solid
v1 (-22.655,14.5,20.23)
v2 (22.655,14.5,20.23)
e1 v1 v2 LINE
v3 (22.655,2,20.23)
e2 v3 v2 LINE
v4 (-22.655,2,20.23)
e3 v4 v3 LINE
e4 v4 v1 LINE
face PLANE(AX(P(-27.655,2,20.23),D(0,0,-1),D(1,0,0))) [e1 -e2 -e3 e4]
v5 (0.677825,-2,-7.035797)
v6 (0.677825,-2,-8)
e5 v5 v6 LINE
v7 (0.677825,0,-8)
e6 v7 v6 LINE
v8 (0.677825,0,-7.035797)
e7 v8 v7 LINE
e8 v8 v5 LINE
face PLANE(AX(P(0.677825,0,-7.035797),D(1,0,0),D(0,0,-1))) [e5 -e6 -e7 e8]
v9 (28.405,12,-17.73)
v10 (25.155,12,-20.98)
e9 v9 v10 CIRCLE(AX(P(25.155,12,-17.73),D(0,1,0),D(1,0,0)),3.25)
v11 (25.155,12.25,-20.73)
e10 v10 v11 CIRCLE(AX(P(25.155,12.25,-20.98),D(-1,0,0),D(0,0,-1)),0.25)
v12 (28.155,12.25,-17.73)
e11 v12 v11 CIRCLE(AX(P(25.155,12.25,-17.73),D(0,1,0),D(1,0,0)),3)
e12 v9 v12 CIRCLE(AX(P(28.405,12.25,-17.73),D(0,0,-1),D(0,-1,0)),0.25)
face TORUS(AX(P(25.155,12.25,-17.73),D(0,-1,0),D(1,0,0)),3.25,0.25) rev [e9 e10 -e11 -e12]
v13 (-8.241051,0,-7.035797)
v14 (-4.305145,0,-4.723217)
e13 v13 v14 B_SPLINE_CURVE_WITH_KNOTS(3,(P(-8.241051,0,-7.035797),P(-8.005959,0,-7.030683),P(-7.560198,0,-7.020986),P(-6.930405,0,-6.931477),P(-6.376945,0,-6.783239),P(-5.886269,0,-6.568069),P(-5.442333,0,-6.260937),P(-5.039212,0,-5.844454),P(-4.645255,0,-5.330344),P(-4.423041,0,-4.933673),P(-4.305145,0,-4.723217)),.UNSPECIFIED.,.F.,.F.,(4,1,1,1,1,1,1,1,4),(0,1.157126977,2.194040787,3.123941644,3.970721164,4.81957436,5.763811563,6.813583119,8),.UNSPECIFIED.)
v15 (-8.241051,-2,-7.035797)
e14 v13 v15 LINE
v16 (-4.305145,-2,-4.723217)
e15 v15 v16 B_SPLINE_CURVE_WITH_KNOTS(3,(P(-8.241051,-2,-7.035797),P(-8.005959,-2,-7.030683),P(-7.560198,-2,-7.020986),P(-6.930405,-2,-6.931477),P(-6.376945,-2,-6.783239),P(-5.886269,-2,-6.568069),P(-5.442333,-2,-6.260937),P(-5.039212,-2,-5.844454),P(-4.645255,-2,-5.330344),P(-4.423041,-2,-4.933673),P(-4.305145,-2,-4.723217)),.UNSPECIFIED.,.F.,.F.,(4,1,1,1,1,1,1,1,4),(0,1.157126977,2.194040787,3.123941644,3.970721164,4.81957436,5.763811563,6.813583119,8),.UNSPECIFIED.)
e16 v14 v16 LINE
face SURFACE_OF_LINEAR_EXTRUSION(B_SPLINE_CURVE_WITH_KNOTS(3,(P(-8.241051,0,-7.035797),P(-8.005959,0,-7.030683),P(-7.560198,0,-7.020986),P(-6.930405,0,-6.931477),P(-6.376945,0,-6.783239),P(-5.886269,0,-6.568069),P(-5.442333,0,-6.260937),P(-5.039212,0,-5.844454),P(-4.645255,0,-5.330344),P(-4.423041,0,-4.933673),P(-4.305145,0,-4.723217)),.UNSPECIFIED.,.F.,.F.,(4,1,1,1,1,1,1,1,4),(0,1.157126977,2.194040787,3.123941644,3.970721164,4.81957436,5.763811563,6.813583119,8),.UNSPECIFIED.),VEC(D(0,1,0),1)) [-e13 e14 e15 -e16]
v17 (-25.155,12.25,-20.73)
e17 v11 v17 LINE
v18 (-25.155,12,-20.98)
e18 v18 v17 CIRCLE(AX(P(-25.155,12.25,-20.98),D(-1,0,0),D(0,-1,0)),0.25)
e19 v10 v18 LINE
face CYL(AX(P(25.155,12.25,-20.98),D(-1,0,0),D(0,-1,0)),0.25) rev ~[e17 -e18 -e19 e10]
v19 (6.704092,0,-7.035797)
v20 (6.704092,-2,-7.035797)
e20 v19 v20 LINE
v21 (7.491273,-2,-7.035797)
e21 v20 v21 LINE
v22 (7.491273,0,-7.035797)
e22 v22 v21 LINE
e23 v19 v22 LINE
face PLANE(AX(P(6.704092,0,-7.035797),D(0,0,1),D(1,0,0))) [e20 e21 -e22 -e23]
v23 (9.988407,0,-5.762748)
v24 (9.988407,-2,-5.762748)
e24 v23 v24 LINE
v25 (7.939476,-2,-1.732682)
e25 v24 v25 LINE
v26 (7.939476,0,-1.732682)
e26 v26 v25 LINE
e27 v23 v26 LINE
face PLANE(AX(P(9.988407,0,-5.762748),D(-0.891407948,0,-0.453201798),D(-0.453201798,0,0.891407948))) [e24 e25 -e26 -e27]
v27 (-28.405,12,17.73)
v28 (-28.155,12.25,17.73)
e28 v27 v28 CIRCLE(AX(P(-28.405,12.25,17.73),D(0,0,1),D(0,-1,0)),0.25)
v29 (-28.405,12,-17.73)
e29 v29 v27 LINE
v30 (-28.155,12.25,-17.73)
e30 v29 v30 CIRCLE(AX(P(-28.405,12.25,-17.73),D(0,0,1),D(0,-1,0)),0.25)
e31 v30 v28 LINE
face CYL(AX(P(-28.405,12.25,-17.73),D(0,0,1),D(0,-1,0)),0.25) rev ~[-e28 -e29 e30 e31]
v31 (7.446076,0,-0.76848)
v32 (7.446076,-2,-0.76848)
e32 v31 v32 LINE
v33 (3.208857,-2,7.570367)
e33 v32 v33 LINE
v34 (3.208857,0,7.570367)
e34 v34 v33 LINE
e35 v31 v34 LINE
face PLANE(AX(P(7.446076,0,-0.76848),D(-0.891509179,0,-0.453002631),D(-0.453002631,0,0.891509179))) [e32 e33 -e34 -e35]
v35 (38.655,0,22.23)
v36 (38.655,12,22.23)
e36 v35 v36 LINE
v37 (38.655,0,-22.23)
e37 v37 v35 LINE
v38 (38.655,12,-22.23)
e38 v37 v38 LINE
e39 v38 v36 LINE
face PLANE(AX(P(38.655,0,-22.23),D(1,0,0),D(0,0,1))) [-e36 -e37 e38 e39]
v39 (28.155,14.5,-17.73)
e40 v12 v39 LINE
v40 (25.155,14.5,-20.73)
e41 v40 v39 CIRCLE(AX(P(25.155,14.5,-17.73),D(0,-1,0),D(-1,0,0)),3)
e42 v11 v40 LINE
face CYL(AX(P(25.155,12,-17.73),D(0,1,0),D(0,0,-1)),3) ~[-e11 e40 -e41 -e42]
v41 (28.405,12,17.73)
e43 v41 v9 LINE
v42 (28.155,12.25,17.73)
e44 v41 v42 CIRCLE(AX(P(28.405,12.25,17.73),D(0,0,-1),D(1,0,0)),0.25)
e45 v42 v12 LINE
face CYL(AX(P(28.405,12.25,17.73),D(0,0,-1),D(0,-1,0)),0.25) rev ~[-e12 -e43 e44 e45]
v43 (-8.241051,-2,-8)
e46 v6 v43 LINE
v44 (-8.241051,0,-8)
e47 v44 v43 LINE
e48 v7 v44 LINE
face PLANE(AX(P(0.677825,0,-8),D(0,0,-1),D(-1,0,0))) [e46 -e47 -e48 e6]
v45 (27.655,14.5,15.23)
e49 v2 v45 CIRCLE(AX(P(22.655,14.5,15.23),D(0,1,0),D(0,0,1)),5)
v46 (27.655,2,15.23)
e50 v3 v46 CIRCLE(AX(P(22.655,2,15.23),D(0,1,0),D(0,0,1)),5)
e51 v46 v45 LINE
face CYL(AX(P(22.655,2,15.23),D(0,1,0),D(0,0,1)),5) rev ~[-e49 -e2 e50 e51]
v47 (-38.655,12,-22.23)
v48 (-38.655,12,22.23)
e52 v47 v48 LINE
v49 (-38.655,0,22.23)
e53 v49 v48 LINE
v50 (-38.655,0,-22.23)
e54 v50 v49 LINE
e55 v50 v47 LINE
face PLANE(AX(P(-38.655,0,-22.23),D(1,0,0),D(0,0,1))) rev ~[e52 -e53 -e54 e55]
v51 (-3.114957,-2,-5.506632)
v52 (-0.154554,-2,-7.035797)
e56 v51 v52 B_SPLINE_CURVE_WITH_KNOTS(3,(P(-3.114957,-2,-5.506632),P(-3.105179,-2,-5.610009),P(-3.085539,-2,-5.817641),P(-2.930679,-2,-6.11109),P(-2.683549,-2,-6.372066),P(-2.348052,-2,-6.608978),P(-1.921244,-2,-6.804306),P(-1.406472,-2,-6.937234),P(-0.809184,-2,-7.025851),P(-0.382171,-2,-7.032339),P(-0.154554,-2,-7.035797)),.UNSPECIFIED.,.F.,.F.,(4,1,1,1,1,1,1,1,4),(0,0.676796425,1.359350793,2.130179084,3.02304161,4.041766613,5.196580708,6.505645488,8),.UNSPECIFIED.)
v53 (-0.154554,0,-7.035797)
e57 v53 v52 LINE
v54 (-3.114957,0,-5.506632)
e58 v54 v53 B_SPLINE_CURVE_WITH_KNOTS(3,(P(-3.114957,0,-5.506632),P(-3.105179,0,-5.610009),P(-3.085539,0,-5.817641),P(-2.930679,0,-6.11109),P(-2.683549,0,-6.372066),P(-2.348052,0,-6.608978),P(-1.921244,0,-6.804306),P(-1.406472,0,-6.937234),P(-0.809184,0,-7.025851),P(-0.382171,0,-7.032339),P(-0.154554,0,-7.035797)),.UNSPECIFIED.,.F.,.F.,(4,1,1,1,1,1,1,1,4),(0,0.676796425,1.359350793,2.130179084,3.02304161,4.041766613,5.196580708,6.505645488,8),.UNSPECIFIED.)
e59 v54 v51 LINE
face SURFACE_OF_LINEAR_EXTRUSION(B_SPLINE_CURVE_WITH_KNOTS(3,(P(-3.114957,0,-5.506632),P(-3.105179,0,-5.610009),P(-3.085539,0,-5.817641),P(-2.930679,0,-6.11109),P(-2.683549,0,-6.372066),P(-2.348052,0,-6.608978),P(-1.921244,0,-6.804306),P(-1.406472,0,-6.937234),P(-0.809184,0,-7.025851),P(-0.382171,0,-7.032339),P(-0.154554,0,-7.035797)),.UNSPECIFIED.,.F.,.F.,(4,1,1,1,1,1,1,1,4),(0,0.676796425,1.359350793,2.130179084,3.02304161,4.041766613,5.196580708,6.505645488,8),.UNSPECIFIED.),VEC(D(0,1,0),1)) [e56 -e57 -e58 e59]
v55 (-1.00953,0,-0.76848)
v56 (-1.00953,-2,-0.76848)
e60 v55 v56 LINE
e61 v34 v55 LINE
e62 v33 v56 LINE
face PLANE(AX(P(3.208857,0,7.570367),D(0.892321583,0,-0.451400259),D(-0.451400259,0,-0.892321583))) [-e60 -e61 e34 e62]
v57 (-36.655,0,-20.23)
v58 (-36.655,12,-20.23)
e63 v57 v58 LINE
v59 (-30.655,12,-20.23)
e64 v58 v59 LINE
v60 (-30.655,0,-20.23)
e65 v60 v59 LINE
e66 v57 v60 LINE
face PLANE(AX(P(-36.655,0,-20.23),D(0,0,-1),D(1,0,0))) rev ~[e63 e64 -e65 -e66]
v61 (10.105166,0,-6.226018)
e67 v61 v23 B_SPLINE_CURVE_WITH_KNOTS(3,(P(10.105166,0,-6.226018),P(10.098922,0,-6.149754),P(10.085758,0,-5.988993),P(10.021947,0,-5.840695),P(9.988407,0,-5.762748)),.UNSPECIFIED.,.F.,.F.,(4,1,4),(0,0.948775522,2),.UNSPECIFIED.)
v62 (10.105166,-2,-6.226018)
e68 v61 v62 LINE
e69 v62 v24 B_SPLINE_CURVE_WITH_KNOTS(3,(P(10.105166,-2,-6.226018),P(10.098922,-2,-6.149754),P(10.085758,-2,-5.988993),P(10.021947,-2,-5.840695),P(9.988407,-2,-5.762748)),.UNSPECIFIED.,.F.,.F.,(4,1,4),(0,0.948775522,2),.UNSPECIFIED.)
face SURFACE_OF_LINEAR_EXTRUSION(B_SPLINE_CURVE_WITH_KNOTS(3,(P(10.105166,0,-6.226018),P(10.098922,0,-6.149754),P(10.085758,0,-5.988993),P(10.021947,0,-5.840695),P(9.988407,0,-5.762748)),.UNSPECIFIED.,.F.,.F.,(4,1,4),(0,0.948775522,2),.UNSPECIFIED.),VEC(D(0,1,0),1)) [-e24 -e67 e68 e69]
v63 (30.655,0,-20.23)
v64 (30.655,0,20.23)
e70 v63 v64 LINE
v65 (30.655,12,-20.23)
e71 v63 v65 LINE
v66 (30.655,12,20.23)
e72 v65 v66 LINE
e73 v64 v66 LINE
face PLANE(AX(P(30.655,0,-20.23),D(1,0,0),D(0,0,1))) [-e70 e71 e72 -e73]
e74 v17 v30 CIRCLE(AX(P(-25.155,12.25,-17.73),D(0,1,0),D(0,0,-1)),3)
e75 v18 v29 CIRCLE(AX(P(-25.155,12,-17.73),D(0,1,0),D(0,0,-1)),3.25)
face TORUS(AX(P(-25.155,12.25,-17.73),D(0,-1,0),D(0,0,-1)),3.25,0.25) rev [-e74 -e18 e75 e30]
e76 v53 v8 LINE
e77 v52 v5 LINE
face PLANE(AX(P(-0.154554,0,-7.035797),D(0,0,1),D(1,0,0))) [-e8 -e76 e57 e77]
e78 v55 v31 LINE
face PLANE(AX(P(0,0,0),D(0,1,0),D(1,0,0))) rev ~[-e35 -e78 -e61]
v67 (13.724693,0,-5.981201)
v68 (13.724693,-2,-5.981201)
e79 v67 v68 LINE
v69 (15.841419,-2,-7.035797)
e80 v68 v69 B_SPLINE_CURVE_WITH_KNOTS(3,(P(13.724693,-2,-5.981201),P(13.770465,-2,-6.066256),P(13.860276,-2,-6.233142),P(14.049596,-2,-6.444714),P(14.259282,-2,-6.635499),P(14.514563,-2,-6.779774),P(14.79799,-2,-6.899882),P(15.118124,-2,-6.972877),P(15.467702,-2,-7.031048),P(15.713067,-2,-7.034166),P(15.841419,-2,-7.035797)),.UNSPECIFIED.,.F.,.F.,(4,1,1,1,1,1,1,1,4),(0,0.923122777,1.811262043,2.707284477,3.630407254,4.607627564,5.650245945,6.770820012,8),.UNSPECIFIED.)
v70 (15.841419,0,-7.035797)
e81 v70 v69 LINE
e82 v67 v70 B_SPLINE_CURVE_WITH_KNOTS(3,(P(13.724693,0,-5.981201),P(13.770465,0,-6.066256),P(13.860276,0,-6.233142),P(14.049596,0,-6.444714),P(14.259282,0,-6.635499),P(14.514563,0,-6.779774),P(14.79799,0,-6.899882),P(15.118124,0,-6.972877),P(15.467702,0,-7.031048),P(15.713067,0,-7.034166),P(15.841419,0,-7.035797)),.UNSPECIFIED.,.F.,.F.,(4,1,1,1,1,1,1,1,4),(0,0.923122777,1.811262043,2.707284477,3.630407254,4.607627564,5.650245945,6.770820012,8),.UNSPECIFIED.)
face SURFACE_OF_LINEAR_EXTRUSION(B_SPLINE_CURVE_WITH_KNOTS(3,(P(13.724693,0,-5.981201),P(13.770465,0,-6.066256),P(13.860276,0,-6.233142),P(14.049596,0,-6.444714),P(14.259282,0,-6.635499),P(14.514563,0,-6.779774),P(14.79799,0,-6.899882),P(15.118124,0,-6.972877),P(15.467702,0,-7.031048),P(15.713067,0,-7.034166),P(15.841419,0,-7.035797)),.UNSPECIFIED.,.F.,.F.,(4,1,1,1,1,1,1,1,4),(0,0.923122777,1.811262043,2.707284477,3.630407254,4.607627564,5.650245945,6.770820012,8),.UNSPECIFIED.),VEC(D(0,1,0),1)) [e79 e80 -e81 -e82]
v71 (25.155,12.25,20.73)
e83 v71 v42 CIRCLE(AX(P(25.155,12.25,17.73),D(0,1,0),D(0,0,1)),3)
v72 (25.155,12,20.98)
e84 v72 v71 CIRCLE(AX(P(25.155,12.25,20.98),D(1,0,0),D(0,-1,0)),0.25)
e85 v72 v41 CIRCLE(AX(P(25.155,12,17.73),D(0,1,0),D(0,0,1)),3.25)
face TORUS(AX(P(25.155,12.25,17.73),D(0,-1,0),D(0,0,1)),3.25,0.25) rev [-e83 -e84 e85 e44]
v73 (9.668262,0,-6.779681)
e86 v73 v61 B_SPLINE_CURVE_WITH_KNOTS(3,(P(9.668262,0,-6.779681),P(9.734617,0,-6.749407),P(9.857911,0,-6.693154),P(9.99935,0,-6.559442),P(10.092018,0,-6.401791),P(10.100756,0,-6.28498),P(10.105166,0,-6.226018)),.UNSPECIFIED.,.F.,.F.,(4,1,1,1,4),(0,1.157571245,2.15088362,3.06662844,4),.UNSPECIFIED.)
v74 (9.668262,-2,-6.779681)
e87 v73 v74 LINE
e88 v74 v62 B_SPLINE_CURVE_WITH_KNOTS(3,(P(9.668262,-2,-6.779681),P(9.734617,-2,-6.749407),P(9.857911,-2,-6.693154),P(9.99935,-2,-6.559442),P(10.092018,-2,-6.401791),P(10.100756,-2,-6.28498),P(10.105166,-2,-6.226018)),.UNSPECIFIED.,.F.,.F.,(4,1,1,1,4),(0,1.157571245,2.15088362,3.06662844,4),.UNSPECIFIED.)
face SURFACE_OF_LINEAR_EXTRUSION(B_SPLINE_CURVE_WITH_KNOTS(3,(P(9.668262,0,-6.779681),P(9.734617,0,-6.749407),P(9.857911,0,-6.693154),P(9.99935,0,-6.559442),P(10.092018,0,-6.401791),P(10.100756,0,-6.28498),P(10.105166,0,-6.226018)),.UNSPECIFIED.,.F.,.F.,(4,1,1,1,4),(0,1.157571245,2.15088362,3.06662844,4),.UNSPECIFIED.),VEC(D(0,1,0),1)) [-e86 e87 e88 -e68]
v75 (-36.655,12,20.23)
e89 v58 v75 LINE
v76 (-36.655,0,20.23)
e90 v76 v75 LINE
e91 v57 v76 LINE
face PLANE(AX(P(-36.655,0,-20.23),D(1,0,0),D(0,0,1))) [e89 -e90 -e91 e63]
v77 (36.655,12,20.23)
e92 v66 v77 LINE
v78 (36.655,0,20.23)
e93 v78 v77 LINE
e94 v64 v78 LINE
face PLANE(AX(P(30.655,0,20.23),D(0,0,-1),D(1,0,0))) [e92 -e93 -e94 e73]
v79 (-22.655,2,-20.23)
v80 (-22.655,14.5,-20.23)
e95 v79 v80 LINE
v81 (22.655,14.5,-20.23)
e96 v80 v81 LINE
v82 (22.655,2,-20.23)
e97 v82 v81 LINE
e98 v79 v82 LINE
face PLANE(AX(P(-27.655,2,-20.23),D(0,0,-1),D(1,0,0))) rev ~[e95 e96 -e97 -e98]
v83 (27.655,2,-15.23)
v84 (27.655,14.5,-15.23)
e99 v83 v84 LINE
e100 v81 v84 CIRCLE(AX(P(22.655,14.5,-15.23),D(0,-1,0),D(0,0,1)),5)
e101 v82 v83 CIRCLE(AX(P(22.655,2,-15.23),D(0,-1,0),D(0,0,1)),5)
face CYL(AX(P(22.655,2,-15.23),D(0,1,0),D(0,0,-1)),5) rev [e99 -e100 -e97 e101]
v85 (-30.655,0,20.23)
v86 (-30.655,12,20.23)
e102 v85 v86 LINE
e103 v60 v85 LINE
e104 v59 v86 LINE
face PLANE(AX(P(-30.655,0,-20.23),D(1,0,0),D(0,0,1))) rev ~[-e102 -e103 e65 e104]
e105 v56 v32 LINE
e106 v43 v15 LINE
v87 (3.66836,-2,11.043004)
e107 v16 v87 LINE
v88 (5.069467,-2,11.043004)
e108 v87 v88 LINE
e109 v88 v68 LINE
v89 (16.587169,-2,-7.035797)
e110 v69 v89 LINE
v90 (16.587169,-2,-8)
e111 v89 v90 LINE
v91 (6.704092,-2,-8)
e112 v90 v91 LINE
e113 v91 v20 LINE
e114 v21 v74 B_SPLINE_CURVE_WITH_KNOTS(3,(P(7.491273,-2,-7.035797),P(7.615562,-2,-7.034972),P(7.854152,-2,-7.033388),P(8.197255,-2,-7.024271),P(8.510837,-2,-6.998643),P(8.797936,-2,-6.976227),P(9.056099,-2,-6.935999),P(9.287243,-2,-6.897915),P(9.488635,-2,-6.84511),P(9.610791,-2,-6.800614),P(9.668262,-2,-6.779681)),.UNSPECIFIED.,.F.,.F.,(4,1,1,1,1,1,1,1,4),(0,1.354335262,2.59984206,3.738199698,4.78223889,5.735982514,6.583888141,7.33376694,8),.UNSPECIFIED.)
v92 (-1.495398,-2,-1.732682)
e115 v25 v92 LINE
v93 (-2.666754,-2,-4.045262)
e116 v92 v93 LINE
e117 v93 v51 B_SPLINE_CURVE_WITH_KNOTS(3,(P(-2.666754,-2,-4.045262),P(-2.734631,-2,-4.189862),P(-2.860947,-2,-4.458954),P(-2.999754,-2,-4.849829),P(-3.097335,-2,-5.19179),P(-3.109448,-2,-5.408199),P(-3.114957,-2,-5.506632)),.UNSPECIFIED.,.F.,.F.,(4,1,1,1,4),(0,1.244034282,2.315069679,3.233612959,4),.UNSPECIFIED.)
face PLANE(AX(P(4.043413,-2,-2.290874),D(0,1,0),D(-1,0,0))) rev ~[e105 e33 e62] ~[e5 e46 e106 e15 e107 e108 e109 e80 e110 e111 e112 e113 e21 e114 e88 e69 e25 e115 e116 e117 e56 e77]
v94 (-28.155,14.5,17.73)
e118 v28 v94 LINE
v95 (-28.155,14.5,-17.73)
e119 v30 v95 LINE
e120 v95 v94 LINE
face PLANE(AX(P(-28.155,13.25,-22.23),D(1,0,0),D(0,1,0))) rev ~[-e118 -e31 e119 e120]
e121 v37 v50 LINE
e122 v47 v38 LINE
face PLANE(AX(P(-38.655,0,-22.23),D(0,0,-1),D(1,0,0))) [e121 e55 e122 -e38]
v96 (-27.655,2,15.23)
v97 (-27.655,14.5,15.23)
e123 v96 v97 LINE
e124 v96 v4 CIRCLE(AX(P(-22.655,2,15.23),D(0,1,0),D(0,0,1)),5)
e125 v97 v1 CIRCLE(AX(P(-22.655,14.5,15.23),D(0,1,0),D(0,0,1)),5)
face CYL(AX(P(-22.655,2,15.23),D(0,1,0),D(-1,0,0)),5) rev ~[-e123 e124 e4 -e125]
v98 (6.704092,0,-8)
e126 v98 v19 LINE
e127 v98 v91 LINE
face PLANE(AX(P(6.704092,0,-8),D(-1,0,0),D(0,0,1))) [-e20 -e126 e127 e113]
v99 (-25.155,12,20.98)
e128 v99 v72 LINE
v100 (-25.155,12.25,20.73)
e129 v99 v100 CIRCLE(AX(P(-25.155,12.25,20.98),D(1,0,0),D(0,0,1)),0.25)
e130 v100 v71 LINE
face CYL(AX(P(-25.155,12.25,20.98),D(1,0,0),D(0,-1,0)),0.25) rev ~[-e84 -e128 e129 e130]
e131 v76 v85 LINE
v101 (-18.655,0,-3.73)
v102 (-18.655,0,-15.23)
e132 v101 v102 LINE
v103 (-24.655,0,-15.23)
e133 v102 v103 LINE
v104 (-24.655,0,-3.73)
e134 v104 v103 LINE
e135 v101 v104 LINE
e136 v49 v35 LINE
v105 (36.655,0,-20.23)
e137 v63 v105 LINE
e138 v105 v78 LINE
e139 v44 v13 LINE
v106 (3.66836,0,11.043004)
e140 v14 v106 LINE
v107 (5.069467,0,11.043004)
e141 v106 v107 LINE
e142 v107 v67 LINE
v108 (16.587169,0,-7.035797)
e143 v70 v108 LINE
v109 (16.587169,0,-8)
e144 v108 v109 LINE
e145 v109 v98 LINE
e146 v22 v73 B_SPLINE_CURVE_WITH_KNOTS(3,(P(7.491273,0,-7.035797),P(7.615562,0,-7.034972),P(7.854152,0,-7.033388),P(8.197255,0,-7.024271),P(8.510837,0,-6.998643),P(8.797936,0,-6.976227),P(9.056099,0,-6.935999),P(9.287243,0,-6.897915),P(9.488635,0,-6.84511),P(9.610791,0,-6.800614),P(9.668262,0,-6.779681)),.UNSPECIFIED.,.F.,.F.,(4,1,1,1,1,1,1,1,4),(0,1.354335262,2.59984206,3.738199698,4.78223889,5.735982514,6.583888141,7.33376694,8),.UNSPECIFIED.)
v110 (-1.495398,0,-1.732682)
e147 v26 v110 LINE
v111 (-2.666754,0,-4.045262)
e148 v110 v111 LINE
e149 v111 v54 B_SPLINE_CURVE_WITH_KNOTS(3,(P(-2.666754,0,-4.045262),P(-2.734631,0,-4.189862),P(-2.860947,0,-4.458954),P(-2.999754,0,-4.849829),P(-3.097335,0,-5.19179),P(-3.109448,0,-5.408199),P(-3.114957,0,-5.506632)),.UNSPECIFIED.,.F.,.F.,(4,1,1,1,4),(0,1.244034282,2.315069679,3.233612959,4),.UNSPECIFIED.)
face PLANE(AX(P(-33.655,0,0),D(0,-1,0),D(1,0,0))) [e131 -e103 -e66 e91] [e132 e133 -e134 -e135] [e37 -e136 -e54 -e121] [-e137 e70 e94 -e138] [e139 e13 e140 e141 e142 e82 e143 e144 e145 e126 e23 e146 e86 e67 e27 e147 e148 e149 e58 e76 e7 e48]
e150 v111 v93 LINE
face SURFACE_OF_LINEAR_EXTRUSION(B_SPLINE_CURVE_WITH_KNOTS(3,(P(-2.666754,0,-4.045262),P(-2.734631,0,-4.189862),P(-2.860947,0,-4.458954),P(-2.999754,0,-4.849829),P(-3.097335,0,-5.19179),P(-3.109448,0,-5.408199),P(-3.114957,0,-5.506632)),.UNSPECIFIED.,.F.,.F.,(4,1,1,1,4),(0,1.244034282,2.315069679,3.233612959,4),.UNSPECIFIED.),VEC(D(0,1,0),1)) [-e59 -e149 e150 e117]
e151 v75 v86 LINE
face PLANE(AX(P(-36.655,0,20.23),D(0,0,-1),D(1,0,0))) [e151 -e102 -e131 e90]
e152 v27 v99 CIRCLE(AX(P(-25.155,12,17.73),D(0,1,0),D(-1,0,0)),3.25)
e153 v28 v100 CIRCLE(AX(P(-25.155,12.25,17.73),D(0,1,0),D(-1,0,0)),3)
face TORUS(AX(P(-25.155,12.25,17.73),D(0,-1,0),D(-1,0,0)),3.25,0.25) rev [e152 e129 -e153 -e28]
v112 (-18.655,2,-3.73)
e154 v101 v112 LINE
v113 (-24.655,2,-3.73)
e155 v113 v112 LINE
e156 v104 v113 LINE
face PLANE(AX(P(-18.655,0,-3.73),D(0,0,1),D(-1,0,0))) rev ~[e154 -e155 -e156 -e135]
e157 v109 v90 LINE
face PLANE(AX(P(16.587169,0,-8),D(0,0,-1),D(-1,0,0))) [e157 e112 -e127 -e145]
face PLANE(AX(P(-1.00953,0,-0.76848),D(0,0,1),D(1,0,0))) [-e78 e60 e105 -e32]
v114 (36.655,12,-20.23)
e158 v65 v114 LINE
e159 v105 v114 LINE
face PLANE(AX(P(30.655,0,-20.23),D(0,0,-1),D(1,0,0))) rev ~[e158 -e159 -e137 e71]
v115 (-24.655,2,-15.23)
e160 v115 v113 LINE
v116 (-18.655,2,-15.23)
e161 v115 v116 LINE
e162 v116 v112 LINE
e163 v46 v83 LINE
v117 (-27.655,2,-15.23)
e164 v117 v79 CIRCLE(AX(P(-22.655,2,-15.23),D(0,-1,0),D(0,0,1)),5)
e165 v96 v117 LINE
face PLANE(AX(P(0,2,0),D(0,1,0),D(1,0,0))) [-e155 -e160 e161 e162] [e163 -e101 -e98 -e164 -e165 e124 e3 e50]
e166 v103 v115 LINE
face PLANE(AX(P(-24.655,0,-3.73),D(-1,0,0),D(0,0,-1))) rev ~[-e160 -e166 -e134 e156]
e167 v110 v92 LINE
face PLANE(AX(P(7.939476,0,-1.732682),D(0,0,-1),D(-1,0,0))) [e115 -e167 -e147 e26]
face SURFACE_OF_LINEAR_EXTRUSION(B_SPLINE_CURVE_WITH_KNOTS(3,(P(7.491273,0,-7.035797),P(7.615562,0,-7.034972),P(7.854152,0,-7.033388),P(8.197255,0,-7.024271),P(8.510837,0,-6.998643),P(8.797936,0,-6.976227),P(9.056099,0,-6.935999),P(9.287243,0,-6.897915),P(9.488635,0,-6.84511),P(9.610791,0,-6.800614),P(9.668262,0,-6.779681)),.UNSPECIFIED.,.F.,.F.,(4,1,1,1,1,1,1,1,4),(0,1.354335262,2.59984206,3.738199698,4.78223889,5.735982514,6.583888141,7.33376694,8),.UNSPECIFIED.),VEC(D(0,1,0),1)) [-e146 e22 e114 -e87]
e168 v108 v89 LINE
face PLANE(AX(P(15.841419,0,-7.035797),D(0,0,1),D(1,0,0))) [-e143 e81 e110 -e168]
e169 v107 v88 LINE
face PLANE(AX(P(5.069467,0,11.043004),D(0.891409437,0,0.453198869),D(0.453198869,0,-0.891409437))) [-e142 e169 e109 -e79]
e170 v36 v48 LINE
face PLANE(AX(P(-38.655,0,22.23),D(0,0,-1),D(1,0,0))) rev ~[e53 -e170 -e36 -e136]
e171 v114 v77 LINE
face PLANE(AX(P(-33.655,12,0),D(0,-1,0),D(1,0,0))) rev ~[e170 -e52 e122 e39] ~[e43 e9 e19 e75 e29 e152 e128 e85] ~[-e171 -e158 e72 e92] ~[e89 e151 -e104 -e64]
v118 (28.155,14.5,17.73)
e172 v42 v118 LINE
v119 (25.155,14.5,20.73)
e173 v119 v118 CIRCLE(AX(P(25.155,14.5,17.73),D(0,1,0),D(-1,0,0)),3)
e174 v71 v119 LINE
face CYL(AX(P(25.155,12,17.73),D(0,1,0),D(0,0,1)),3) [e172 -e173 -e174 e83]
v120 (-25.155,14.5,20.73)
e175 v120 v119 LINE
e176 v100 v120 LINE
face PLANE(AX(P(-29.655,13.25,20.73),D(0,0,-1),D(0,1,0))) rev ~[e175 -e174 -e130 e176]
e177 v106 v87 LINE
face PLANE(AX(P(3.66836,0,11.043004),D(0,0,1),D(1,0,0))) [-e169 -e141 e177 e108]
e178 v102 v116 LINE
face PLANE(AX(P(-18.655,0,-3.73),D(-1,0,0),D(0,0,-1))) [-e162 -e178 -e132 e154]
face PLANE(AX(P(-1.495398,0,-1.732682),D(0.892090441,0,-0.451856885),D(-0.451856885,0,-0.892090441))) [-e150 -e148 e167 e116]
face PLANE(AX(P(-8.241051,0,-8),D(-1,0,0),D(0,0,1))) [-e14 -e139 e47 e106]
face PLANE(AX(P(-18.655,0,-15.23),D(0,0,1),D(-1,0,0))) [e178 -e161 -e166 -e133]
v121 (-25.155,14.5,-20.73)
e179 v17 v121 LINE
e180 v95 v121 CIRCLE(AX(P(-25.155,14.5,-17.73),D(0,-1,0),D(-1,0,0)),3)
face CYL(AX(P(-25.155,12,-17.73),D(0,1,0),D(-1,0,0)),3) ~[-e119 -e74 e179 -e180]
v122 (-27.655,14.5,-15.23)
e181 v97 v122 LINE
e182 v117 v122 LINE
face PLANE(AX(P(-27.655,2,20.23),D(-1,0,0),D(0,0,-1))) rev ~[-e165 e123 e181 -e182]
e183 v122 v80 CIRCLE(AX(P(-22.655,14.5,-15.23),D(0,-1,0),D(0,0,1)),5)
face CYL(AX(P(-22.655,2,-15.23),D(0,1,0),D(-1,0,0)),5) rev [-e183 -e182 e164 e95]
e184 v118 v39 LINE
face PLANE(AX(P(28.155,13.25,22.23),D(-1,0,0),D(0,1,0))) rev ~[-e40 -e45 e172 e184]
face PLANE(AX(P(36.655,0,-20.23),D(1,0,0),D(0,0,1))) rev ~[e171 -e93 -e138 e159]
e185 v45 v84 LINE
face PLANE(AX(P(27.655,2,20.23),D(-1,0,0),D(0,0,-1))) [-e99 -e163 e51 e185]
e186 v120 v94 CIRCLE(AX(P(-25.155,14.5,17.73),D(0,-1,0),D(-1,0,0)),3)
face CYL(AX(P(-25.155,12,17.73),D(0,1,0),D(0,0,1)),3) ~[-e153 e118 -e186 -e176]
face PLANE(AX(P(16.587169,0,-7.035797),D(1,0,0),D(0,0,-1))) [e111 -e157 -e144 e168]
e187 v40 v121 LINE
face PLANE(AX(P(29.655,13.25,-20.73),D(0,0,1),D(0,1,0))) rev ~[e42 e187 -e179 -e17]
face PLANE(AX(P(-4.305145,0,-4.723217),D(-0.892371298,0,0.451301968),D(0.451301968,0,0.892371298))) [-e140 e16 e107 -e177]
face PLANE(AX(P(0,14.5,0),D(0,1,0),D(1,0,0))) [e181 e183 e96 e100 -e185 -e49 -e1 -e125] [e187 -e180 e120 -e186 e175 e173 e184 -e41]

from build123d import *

# Parameters (mm, degrees)
SKETCH1_W           = 59.31
SKETCH1_H           = 44.46
BOSS_EXTRUDE1_DEPTH = 2
SKETCH2_W           = 59.31
SKETCH2_H           = 44.46
SKETCH2_W_2         = 55.31
SKETCH2_H_2         = 40.46
BOSS_EXTRUDE2_DEPTH = 12.5
SKETCH3_W           = 1.5
SKETCH3_H           = 2.5
SKETCH5_W           = 6
SKETCH5_H           = 11.5
CUT_EXTRUDE1_DEPTH  = 10
BOSS_EXTRUDE3_DEPTH = 2
FILLET1_R           = 5
SKETCH7_W           = 10
SKETCH7_H           = 44.46
SKETCH7_W_2         = 6
SKETCH7_H_2         = 40.46
BOSS_EXTRUDE4_DEPTH = 12
FILLET2_R           = 3
FILLET3_R           = 0.25


with BuildPart() as part:
    # Sketch1 → Boss-Extrude1 (new body)
    with BuildSketch(Plane(origin=(0, 0, 0), x_dir=(1, 0, 0), z_dir=(0, 1, 0))):
        Rectangle(SKETCH1_W, SKETCH1_H)
    extrude(amount=BOSS_EXTRUDE1_DEPTH)

    # Sketch2 → Boss-Extrude2 (add)
    with BuildSketch(Plane(origin=(0, 2, 0), x_dir=(1, 0, 0), z_dir=(0, 1, 0))):
        Rectangle(SKETCH2_W, SKETCH2_H)
        Rectangle(SKETCH2_W_2, SKETCH2_H_2, mode=Mode.SUBTRACT)
    extrude(amount=BOSS_EXTRUDE2_DEPTH)

    # Cut-Sweep1: sweep along a path in Sketch4
    with BuildLine(Plane(origin=(0, 14.5, 0), x_dir=(1, 0, 0), z_dir=(0, 1, 0))) as cut_sweep1_path:
        Line((-29.655, -22.23), (29.655, -22.23))
        Line((29.655, -22.23), (29.655, 22.23))
        Line((29.655, 22.23), (-29.655, 22.23))
        Line((-29.655, 22.23), (-29.655, -22.23))
    # Sketch3 → Cut-Sweep1 (sweep, cut)
    with BuildSketch(Plane(origin=(29.655, 0, 0), x_dir=(0, 0, -1), z_dir=(1, 0, 0))):
        with Locations((-21.48, 13.25)):
            Rectangle(SKETCH3_W, SKETCH3_H)
    sweep(path=cut_sweep1_path.line, transition=Transition.RIGHT, mode=Mode.SUBTRACT)

    # Sketch5 → Cut-Extrude1 (cut)
    with BuildSketch(Plane(origin=(0, 0, 0), x_dir=(-1, 0, 0), z_dir=(0, -1, 0))):
        with Locations((21.655, 9.48)):
            Rectangle(SKETCH5_W, SKETCH5_H)
    extrude(amount=-CUT_EXTRUDE1_DEPTH, mode=Mode.SUBTRACT)

    # Sketch6 → Boss-Extrude3 (add)
    with BuildSketch(Plane.XZ):
        with BuildLine():
            Line((3.668359532, 11.043003806), (5.069466615, 11.043003806))
            Line((5.069466615, 11.043003806), (13.724692633, -5.981200546))
            add(Edge.make_bspline(
                [(13.724692633, -5.981200546), (13.770465415, -6.066255609), (13.860276332, -6.233142412), (14.049596398, -6.44471403), (14.259282132, -6.635498751), (14.514562764, -6.779774023), (14.797989941, -6.899882103), (15.118123905, -6.972877212), (15.467702486, -7.031048399), (15.713066528, -7.034166281), (15.841418927, -7.035797276)],
                knots=[0, 0, 0, 0, 0.923122777, 1.811262043, 2.707284477, 3.630407254, 4.607627564, 5.650245945, 6.770820012, 8, 8, 8, 8], degree=3))
            Line((15.841418927, -7.035797276), (16.587169471, -7.035797276))
            Line((16.587169471, -7.035797276), (16.587169471, -8))
            Line((16.587169471, -8), (6.704091546, -8))
            Line((6.704091546, -8), (6.704091546, -7.035797276))
            Line((6.704091546, -7.035797276), (7.491272677, -7.035797276))
            add(Edge.make_bspline(
                [(7.491272677, -7.035797276), (7.615561715, -7.034972065), (7.854152468, -7.033387954), (8.197254943, -7.024270941), (8.510837169, -6.998643255), (8.797935797, -6.976226749), (9.056099226, -6.935998597), (9.287242582, -6.897915489), (9.488634661, -6.845109649), (9.610791127, -6.800614432), (9.66826164, -6.779680927)],
                knots=[0, 0, 0, 0, 1.354335262, 2.59984206, 3.738199698, 4.78223889, 5.735982514, 6.583888141, 7.33376694, 8, 8, 8, 8], degree=3))
            add(Edge.make_bspline(
                [(9.66826164, -6.779680927), (9.734616654, -6.749406693), (9.857910933, -6.693154125), (9.99935023, -6.559441952), (10.092017823, -6.401790611), (10.10075551, -6.2849798), (10.105166, -6.226017644)],
                knots=[0, 0, 0, 0, 1.157571245, 2.15088362, 3.06662844, 4, 4, 4, 4], degree=3))
            add(Edge.make_bspline(
                [(10.105166, -6.226017644), (10.098921578, -6.149754311), (10.08575846, -5.988992716), (10.021947105, -5.840695302), (9.988407076, -5.762748366)],
                knots=[0, 0, 0, 0, 0.948775522, 2, 2, 2, 2], degree=3))
            Line((9.988407076, -5.762748366), (7.939476287, -1.732682292))
            Line((7.939476287, -1.732682292), (-1.495398027, -1.732682292))
            Line((-1.495398027, -1.732682292), (-2.666753681, -4.045262263))
            add(Edge.make_bspline(
                [(-2.666753681, -4.045262263), (-2.73463111, -4.18986222), (-2.860946743, -4.458953658), (-2.99975414, -4.849828516), (-3.097335174, -5.191789881), (-3.109447861, -5.40819885), (-3.114957291, -5.506632017)],
                knots=[0, 0, 0, 0, 1.244034282, 2.315069679, 3.233612959, 4, 4, 4, 4], degree=3))
            add(Edge.make_bspline(
                [(-3.114957291, -5.506632017), (-3.105178856, -5.610008506), (-3.085538794, -5.817640973), (-2.930679332, -6.11109022), (-2.683549261, -6.372065908), (-2.348052402, -6.608977598), (-1.921244388, -6.804306269), (-1.406472367, -6.937233956), (-0.80918362, -7.025851211), (-0.382171294, -7.032338986), (-0.154553614, -7.035797276)],
                knots=[0, 0, 0, 0, 0.676796425, 1.359350793, 2.130179084, 3.02304161, 4.041766613, 5.196580708, 6.505645488, 8, 8, 8, 8], degree=3))
            Line((-0.154553614, -7.035797276), (0.677824519, -7.035797276))
            Line((0.677824519, -7.035797276), (0.677824519, -8))
            Line((0.677824519, -8), (-8.241050681, -8))
            Line((-8.241050681, -8), (-8.241050681, -7.035797276))
            add(Edge.make_bspline(
                [(-8.241050681, -7.035797276), (-8.00595871, -7.030682959), (-7.560198321, -7.020985648), (-6.930404722, -6.931476506), (-6.376944833, -6.783238723), (-5.886269273, -6.568068877), (-5.442332689, -6.26093688), (-5.039212162, -5.844454164), (-4.645254972, -5.330344026), (-4.423041234, -4.933672593), (-4.305145029, -4.723217304)],
                knots=[0, 0, 0, 0, 1.157126977, 2.194040787, 3.123941644, 3.970721164, 4.81957436, 5.763811563, 6.813583119, 8, 8, 8, 8], degree=3))
            Line((-4.305145029, -4.723217304), (3.668359532, 11.043003806))
        make_face()
        Polygon((3.208856671, 7.570367432), (-1.009530248, -0.768479567), (7.446075674, -0.768479567), align=None, mode=Mode.SUBTRACT)
    extrude(amount=BOSS_EXTRUDE3_DEPTH)

    # Fillet1
    fillet1_edges = [part.edges().sort_by_distance(p)[0] for p in [
        (27.655, 8.25, 20.23),
        (27.655, 8.25, -20.23),
        (-27.655, 8.25, -20.23),
        (-27.655, 8.25, 20.23),
    ]]
    fillet(fillet1_edges, radius=FILLET1_R)

    # Sketch7 → Boss-Extrude4 (add)
    # profile 1 of 2: a face of its own
    with BuildSketch(Plane.XZ):
        with Locations((-33.655, 0)):
            Rectangle(SKETCH7_W, SKETCH7_H)
        with Locations((-33.655, 0)):
            Rectangle(SKETCH7_W_2, SKETCH7_H_2, mode=Mode.SUBTRACT)
    # profile 2 of 2: a face of its own
    with BuildSketch(Plane.XZ):
        with Locations((33.655, 0)):
            Rectangle(SKETCH7_W, SKETCH7_H)
        with Locations((33.655, 0)):
            Rectangle(SKETCH7_W_2, SKETCH7_H_2, mode=Mode.SUBTRACT)
    extrude(amount=-BOSS_EXTRUDE4_DEPTH)

    # Fillet2
    fillet2_edges = [part.edges().sort_by_distance(p)[0] for p in [
        (-28.155, 13.25, -20.73),
        (28.155, 13.25, -20.73),
        (28.155, 13.25, 20.73),
        (-28.155, 13.25, 20.73),
    ]]
    fillet(fillet2_edges, radius=FILLET2_R)

    # Fillet3
    fillet3_edges = [part.edges().sort_by_distance(p)[0] for p in [
        (-28.155, 12, 0),
        (0, 12, -20.73),
        (28.155, 12, 0),
        (0, 12, 20.73),
        (-27.276320344, 12, -19.851320344),
        (27.276320344, 12, -19.851320344),
        (27.276320344, 12, 19.851320344),
        (-27.276320344, 12, 19.851320344),
    ]]
    fillet(fillet3_edges, radius=FILLET3_R)


solid = part.part
